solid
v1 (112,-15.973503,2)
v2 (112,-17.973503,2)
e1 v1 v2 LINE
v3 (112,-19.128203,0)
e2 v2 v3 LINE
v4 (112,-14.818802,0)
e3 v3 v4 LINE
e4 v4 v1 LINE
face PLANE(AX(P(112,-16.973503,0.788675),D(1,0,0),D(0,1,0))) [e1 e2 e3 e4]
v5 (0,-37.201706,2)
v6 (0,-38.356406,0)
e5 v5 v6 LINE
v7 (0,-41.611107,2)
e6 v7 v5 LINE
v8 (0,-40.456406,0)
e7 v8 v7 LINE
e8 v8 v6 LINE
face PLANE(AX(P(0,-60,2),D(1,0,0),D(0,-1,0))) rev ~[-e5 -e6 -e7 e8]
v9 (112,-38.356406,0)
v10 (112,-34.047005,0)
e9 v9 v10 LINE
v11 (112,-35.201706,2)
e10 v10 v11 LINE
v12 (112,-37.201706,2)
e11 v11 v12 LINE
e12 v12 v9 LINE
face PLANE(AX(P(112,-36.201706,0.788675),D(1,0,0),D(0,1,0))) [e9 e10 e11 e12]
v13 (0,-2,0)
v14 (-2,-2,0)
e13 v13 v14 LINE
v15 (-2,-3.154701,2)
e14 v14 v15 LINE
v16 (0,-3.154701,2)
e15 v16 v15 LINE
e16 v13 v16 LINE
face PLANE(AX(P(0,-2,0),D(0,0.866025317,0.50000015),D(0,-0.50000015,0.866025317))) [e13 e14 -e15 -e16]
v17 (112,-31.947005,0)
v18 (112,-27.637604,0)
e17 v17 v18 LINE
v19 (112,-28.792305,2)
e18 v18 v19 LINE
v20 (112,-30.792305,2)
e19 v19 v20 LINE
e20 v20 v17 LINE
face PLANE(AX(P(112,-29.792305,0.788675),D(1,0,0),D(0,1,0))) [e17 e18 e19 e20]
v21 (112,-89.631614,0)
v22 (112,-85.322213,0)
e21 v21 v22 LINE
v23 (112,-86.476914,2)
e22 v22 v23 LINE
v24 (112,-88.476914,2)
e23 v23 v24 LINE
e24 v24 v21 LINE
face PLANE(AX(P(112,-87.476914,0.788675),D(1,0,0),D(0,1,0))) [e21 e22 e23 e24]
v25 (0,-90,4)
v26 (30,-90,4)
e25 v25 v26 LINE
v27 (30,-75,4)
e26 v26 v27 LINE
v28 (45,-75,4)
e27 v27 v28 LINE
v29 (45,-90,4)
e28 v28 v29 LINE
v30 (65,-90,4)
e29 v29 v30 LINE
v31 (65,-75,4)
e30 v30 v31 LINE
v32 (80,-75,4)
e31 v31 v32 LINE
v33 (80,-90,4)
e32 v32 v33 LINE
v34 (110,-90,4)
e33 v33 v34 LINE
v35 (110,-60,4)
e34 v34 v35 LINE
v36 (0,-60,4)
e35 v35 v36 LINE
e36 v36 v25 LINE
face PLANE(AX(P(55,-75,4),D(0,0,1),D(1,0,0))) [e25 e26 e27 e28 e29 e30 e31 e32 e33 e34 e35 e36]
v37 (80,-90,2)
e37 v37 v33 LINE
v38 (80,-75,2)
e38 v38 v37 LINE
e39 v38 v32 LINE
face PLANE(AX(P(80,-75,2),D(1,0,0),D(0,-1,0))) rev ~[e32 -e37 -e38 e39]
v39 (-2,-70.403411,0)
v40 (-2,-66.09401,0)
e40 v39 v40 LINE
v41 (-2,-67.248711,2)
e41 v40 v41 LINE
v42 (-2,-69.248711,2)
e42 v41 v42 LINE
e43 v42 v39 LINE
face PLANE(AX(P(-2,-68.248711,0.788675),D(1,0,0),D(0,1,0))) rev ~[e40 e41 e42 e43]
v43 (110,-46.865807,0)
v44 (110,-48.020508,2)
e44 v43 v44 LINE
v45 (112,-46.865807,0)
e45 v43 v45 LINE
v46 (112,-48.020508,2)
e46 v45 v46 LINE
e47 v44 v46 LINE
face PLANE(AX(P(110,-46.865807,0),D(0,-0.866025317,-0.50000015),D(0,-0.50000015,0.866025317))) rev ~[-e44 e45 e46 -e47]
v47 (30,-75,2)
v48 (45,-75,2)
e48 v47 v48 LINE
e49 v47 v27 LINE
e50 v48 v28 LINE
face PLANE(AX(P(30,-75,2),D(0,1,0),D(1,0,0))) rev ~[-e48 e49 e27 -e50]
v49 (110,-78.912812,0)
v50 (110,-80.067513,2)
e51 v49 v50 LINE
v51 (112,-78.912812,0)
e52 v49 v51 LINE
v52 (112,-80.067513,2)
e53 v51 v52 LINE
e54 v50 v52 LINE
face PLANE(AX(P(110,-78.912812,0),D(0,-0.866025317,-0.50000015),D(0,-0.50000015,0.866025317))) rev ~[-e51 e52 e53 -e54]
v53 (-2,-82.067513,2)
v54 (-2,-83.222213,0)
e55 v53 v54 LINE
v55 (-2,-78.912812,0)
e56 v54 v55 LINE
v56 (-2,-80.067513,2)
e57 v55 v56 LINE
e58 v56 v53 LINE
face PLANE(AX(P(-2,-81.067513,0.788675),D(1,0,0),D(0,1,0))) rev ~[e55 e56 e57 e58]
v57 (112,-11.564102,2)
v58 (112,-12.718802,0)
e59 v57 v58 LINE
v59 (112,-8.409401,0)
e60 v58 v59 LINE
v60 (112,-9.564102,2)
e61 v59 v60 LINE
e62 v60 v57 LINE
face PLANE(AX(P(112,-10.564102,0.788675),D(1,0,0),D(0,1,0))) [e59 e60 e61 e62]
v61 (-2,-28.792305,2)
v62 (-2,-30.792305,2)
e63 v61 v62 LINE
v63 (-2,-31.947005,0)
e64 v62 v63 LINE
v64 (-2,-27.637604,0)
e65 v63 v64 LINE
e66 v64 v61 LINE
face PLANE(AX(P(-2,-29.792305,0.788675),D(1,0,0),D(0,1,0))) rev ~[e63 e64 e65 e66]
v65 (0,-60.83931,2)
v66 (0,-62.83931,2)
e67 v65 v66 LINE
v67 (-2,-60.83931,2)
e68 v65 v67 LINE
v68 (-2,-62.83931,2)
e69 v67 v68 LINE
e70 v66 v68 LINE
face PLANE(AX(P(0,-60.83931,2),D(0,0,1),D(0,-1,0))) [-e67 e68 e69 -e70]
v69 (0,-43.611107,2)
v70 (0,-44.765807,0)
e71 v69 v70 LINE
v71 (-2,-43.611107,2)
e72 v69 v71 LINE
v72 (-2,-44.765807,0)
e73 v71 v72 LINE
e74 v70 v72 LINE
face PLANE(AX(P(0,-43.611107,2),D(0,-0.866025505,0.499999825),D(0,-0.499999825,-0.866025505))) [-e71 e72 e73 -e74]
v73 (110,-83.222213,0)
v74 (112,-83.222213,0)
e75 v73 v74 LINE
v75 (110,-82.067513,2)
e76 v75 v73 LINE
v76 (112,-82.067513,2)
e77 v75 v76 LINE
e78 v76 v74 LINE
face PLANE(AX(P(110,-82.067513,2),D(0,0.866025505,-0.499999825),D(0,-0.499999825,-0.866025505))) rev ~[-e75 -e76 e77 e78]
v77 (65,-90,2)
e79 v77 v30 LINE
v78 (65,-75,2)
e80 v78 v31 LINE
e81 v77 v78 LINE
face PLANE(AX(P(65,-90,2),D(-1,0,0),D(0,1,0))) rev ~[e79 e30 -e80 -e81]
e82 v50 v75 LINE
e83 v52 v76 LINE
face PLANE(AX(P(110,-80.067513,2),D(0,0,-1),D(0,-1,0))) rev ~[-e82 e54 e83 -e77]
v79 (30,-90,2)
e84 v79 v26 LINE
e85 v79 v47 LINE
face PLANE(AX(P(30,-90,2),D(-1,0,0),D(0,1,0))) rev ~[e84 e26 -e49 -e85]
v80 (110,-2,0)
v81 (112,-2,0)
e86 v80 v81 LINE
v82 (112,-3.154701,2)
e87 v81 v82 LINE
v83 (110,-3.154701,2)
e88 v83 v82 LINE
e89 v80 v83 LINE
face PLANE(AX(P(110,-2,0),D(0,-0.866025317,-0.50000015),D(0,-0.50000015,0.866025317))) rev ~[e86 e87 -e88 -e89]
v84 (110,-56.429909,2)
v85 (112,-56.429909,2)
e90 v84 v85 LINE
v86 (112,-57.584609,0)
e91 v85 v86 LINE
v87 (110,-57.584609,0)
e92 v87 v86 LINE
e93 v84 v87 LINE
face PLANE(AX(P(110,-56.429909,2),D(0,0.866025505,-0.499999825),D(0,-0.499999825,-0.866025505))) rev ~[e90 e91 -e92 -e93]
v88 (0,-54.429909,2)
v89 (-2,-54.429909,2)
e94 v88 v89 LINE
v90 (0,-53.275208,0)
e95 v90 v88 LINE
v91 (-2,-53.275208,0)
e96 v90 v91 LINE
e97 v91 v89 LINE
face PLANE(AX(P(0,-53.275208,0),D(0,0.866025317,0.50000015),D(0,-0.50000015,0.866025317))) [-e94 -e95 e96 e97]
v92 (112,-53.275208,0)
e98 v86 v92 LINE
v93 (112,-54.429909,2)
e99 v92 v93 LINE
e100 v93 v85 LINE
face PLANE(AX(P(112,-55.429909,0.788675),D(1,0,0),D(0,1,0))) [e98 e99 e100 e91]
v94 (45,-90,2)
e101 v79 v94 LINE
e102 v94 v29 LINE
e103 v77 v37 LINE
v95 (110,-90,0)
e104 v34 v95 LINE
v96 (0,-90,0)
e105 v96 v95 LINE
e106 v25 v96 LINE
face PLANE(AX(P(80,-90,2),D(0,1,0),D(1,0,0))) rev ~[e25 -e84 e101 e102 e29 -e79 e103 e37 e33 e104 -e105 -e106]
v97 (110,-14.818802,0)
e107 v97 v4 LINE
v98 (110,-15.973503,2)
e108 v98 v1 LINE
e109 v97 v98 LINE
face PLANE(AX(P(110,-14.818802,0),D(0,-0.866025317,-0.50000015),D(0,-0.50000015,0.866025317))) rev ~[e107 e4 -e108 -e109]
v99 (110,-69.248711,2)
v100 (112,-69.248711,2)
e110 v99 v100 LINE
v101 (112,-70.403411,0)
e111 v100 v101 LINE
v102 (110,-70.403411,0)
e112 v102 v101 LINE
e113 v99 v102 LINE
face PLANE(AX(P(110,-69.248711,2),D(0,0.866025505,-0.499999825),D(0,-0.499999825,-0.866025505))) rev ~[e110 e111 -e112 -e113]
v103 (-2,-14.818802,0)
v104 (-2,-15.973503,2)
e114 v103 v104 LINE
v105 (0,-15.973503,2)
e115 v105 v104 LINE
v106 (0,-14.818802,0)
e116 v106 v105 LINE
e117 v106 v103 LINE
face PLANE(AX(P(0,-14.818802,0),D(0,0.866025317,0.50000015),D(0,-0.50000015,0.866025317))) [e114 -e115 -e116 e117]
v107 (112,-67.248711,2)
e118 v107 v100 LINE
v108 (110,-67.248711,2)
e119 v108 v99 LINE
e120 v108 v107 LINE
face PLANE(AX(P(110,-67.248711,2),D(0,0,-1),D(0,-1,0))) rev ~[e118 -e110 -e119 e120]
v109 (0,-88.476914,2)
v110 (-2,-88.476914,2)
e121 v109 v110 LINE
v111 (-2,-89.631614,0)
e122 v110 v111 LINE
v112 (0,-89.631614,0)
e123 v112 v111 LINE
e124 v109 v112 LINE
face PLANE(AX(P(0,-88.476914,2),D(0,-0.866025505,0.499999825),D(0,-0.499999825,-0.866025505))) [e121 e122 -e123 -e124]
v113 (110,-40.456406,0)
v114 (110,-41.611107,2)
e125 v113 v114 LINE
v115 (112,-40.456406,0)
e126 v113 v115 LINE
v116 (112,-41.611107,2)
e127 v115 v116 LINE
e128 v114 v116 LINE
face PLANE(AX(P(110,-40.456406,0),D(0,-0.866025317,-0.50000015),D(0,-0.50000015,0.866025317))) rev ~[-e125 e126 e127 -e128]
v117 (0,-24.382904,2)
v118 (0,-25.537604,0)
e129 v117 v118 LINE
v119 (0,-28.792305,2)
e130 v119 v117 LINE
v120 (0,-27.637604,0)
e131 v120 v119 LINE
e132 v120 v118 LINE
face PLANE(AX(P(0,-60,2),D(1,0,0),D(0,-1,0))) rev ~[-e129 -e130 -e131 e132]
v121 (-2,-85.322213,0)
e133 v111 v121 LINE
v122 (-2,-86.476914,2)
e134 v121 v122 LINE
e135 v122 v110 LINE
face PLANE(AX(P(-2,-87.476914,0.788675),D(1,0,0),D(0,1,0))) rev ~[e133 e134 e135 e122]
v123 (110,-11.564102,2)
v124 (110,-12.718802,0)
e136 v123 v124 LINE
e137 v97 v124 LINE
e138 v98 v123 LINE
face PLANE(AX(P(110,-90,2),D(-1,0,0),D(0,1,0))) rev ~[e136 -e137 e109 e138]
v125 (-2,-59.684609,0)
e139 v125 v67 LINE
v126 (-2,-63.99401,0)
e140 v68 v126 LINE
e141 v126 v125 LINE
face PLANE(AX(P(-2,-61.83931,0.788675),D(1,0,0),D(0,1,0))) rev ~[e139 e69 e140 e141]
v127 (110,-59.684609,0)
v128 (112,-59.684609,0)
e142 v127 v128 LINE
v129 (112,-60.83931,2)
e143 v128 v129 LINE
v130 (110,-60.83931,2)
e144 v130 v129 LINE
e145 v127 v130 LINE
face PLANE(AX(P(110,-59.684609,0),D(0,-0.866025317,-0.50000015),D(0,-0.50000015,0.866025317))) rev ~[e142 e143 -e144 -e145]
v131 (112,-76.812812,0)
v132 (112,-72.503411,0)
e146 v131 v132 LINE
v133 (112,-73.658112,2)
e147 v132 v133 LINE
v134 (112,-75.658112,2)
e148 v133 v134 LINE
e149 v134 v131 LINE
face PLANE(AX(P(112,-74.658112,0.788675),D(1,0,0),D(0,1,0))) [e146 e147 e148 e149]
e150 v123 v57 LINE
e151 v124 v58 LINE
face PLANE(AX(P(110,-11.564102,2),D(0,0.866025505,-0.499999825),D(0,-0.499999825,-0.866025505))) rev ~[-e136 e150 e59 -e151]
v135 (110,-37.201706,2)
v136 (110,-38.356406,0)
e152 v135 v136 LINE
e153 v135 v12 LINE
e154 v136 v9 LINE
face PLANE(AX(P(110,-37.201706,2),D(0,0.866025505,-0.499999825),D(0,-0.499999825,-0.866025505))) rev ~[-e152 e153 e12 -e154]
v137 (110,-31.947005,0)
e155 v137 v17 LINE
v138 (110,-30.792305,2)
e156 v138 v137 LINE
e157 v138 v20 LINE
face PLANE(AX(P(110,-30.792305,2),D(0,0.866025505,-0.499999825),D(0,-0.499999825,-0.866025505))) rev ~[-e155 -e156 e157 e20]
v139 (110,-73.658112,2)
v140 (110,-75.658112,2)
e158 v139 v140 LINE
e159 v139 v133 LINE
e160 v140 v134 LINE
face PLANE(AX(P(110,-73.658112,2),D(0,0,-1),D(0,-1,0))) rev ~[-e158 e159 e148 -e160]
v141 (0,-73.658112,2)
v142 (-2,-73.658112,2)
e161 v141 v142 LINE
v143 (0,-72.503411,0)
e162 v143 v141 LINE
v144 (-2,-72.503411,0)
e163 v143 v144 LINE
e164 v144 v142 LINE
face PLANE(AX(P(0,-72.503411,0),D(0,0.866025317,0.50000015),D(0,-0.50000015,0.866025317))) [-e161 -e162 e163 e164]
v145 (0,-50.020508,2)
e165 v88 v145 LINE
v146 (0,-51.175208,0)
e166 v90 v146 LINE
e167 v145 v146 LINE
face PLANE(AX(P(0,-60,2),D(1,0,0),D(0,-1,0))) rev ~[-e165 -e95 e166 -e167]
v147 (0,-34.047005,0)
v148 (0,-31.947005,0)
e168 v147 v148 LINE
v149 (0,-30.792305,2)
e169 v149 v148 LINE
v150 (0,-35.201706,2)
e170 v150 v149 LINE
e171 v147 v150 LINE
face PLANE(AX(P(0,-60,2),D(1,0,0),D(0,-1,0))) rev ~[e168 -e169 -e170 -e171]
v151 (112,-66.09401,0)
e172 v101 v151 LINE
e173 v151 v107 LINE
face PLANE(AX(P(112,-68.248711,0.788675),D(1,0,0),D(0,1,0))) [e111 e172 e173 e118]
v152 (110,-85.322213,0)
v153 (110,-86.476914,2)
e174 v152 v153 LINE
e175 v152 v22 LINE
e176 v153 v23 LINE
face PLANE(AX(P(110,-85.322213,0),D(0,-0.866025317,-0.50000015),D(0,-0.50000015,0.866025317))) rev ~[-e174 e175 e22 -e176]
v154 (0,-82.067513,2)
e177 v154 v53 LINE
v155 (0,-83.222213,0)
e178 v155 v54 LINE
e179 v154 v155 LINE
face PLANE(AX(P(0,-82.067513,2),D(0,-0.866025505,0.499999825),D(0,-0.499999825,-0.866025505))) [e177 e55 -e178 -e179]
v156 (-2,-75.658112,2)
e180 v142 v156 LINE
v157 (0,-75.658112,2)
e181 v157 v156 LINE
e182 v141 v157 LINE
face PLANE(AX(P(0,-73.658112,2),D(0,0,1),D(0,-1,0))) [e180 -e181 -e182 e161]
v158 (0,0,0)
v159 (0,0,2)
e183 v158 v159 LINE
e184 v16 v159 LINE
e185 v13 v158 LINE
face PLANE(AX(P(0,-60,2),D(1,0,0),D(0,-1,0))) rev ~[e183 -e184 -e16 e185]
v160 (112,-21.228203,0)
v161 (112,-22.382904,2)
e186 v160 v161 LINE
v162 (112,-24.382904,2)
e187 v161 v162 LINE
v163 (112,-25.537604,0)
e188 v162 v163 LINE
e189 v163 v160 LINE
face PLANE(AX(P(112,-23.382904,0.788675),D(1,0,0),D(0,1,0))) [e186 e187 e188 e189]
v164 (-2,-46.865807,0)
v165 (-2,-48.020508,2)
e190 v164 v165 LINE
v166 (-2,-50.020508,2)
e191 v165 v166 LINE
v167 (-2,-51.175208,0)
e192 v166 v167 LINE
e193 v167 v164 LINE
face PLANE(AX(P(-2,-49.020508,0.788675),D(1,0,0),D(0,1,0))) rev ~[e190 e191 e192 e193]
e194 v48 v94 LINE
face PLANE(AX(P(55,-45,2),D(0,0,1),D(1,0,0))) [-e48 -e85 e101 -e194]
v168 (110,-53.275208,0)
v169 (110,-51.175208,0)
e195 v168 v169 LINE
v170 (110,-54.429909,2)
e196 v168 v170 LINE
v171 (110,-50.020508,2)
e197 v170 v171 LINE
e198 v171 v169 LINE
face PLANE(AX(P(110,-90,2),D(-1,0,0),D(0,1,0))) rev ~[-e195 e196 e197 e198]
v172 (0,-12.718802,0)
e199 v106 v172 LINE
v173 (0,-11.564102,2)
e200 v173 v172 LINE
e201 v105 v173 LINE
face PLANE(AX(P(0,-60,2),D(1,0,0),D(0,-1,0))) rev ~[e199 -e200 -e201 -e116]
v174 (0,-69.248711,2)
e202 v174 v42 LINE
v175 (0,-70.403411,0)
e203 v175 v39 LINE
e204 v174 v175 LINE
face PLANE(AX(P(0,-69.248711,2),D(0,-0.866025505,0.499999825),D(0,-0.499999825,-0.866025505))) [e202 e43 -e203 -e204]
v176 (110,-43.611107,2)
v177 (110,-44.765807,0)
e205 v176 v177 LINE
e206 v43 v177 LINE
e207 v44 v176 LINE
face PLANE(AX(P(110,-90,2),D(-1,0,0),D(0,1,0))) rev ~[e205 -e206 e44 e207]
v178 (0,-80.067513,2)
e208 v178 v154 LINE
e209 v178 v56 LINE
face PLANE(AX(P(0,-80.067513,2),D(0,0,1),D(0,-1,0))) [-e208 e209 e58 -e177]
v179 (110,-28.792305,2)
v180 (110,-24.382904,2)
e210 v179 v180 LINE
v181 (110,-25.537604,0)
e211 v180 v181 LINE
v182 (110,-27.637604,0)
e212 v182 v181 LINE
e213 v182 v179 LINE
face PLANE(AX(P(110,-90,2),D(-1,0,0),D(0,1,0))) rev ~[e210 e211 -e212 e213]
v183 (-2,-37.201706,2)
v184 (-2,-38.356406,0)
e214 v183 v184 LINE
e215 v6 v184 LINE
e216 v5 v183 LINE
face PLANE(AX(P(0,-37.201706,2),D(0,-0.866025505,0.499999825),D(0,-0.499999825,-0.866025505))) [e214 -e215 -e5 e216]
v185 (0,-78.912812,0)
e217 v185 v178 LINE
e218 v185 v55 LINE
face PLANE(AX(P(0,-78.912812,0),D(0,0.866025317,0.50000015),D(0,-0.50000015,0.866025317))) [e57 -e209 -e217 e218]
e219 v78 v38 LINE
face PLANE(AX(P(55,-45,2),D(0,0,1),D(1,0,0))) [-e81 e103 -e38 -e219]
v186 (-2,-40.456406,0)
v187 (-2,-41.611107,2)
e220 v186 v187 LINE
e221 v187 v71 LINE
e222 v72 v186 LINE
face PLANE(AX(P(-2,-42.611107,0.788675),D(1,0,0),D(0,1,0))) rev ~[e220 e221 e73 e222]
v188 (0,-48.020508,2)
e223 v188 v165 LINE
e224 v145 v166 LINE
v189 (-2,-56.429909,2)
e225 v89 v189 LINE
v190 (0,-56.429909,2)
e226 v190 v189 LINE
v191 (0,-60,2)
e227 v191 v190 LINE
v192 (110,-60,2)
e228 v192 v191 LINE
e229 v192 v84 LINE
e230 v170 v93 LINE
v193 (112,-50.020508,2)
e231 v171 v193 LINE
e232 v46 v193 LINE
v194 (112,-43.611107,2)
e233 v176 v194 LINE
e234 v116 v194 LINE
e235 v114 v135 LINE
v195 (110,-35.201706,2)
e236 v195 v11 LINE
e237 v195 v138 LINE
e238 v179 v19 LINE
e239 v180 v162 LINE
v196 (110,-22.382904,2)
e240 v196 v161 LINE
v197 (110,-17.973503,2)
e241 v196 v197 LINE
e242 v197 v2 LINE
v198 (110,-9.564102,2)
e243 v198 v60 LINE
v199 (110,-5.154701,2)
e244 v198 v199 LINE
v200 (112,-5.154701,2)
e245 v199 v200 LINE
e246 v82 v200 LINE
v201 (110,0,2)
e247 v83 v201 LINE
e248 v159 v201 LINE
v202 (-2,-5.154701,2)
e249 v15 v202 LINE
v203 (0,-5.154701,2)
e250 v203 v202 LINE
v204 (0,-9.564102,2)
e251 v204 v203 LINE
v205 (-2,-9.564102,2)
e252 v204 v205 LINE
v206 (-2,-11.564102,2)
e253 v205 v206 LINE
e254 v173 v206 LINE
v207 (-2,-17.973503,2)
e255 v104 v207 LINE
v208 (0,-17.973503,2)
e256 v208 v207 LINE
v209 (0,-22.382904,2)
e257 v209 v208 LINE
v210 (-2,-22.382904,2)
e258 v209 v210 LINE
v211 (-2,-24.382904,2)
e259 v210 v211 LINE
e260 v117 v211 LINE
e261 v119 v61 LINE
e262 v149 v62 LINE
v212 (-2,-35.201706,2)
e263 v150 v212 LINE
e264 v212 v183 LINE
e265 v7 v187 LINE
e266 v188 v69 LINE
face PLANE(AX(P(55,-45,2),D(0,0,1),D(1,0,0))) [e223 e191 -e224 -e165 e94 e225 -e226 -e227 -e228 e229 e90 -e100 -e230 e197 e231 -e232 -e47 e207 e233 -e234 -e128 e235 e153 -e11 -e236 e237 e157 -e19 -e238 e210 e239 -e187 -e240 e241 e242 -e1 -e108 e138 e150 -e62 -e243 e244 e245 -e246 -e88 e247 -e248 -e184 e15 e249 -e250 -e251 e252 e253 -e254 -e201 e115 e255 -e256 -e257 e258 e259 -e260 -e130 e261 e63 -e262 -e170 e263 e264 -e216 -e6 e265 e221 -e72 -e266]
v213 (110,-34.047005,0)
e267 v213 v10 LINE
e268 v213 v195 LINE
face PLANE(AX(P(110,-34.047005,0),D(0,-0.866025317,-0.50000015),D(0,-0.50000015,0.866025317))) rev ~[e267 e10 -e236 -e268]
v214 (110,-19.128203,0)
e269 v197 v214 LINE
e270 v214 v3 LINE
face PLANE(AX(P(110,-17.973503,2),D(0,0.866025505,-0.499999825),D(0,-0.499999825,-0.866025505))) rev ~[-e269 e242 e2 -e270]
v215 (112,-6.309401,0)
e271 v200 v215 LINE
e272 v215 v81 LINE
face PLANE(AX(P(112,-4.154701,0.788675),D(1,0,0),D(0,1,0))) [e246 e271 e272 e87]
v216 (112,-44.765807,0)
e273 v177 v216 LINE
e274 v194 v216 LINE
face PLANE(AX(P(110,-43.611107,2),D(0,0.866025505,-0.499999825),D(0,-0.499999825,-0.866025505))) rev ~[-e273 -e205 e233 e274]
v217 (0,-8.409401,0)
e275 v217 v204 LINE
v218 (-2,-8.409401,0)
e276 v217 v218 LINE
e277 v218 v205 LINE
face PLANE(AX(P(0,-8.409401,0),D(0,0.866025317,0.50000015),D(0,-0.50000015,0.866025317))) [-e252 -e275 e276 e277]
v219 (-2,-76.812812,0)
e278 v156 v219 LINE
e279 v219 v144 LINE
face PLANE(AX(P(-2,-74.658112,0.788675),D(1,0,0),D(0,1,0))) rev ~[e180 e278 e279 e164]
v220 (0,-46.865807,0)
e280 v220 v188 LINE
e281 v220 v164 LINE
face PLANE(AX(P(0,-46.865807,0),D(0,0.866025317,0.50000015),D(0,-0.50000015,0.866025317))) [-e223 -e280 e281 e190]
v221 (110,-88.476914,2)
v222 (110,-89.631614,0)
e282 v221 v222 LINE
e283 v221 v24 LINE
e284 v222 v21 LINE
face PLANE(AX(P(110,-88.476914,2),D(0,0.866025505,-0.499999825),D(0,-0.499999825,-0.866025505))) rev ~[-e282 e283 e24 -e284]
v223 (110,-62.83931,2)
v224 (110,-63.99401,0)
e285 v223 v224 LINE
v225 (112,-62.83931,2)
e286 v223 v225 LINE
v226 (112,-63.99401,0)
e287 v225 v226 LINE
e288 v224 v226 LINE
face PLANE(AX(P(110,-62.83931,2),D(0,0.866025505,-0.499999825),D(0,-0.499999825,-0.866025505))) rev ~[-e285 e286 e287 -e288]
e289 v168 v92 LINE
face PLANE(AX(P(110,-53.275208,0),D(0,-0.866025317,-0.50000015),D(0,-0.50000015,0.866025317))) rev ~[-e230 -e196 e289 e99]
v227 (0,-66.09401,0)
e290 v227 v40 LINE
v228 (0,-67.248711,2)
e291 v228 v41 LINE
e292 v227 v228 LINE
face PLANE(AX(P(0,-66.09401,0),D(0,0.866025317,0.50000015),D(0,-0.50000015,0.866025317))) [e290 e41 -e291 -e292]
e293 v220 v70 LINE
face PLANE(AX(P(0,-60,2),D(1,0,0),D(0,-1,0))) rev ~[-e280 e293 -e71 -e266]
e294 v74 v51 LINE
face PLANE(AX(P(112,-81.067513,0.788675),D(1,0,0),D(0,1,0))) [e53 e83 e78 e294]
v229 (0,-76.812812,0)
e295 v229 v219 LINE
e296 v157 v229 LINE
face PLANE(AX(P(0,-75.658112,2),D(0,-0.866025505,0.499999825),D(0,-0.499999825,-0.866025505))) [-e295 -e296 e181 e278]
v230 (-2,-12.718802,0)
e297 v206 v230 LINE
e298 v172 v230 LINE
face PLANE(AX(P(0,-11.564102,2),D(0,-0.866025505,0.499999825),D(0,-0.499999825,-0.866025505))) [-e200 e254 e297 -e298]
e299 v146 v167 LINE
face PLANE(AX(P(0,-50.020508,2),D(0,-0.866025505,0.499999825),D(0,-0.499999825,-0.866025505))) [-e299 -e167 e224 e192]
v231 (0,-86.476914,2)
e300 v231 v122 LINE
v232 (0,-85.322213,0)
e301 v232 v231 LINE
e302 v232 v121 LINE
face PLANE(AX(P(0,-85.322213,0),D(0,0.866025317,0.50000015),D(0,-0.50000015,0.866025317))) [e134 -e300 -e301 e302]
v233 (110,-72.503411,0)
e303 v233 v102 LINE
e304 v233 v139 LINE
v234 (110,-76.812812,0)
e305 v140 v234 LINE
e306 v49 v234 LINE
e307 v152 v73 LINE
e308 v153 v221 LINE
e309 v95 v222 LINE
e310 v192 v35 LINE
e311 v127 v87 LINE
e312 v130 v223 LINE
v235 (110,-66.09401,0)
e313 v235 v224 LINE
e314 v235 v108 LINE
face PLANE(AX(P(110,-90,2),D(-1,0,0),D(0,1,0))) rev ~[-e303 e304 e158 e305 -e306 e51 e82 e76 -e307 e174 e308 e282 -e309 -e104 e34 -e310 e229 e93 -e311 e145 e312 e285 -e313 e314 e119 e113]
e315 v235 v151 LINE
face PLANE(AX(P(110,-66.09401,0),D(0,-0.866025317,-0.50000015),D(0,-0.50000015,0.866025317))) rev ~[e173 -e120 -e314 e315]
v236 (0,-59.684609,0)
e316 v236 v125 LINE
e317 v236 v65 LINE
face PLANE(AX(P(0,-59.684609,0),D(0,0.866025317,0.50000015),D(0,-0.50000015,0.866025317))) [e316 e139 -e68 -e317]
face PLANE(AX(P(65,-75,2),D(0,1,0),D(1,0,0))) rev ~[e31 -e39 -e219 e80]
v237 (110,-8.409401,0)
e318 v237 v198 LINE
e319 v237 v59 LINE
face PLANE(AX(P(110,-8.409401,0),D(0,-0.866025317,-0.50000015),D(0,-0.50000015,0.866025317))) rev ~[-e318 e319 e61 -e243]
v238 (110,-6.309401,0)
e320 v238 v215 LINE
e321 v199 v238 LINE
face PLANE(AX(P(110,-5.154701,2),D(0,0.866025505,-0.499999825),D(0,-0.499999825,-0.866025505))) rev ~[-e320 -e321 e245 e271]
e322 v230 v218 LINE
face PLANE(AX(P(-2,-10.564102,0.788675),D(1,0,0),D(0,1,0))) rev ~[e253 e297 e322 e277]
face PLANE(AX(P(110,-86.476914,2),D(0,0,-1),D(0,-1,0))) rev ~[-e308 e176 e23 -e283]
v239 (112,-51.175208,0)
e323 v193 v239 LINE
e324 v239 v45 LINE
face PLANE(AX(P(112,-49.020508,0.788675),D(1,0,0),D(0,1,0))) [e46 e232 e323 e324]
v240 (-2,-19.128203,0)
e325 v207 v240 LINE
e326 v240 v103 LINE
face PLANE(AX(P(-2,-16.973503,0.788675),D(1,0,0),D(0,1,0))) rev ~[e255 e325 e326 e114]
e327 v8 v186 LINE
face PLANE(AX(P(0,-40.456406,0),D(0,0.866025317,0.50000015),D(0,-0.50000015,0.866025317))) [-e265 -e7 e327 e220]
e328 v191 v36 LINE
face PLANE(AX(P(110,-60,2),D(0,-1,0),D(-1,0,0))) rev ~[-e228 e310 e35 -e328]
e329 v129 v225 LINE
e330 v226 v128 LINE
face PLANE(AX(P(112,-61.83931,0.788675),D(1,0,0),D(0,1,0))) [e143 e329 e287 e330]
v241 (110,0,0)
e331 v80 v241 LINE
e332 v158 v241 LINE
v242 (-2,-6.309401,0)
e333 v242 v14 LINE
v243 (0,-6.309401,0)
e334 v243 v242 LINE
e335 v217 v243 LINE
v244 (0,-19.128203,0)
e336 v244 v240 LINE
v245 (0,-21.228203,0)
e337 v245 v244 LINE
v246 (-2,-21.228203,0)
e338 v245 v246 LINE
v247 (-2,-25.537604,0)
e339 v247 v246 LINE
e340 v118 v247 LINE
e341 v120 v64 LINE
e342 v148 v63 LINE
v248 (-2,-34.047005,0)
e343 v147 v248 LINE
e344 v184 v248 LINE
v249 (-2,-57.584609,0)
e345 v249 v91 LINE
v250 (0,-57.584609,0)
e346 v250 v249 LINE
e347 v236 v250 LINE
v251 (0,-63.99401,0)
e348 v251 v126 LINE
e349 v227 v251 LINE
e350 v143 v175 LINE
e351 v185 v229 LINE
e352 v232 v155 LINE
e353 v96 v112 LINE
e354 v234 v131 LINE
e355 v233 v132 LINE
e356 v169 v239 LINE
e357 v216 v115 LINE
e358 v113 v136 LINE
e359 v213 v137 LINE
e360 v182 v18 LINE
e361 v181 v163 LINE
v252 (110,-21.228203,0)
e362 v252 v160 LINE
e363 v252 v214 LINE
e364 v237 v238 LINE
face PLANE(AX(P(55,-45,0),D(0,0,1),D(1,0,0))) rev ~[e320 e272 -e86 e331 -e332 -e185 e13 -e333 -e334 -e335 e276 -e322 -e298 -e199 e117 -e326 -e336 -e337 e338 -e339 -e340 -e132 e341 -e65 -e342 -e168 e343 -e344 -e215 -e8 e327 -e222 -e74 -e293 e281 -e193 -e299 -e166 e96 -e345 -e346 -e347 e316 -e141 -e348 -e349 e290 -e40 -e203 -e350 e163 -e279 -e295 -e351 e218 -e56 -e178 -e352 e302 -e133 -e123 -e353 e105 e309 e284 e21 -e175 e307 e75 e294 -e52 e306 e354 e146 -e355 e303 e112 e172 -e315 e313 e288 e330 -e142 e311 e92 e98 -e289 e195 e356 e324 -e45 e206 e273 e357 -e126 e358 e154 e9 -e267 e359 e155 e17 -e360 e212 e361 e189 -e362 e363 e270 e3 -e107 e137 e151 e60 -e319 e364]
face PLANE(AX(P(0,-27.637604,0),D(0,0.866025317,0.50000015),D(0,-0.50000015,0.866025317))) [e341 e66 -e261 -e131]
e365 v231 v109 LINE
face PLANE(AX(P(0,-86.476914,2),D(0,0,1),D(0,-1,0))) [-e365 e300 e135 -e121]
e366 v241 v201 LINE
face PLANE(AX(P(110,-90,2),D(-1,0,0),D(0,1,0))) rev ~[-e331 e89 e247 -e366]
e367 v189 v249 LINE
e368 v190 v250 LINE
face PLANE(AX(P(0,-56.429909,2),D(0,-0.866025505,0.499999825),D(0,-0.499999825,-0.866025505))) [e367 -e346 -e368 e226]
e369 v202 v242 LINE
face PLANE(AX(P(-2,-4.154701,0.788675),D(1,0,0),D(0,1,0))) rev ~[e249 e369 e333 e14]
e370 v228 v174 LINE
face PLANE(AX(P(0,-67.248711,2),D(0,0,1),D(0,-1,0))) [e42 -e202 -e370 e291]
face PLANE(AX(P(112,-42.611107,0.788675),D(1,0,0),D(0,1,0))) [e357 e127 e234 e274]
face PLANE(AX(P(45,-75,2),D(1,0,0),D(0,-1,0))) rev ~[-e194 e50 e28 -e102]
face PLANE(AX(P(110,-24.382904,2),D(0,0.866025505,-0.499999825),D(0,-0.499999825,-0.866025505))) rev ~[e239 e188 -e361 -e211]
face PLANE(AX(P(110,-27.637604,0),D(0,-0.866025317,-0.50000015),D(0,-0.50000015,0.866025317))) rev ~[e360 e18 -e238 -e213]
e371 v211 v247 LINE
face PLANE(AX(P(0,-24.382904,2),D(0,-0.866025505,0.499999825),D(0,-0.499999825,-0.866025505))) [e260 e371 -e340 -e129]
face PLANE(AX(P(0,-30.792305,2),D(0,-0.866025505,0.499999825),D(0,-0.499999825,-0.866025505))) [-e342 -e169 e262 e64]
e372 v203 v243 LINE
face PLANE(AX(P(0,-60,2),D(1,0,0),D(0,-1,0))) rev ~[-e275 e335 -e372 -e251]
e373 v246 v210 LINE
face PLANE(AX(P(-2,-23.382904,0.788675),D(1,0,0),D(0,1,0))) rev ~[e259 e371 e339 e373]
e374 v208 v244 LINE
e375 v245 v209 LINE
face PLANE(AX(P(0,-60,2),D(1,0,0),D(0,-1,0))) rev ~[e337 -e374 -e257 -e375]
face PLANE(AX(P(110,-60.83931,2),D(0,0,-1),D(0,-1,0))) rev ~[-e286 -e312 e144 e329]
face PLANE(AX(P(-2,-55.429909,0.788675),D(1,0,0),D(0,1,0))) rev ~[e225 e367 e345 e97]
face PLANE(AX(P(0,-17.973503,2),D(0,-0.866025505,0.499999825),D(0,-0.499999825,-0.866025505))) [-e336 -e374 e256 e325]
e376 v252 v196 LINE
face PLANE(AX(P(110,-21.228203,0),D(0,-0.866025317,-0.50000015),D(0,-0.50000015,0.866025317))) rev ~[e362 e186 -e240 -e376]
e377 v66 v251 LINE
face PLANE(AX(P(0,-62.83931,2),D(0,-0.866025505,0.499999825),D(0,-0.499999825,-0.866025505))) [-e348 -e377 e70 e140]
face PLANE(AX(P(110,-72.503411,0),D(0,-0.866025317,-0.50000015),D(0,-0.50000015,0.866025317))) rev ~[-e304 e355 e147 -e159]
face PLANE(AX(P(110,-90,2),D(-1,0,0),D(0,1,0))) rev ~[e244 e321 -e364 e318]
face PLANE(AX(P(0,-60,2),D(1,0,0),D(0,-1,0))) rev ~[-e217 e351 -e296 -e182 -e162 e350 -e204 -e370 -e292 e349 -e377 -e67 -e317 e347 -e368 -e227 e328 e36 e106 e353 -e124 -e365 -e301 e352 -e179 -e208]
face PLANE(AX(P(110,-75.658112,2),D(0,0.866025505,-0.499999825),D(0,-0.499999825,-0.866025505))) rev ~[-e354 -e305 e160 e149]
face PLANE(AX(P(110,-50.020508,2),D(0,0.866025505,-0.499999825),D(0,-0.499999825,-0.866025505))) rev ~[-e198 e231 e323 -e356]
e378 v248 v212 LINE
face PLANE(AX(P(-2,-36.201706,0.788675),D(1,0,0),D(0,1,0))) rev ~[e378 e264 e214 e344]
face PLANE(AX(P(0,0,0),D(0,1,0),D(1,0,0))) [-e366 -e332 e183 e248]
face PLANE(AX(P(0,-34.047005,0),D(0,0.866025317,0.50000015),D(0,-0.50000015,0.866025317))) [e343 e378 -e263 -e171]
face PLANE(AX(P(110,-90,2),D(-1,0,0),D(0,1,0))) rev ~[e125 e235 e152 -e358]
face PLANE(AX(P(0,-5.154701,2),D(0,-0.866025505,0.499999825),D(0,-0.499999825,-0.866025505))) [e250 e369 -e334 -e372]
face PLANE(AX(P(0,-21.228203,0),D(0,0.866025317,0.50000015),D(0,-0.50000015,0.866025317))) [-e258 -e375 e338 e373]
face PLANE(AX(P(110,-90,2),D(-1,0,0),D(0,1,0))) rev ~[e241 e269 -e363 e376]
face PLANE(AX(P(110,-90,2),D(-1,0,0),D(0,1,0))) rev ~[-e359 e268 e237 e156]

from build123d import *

# Parameters (mm, degrees)
SKETCH_W               = 110
SKETCH_H               = 90
PAD_DEPTH              = 2
PAD001_DEPTH           = 2
PAD002_DEPTH           = 2
LINEARPATTERN_COUNT    = 14
LINEARPATTERN_PITCH    = 6.409401
PAD003_DEPTH           = 2
LINEARPATTERN001_COUNT = 14
LINEARPATTERN001_PITCH = 6.409401


with BuildPart() as part:
    # Sketch → Pad (new body)
    with BuildSketch(Plane.XY):
        with Locations((55, -45)):
            Rectangle(SKETCH_W, SKETCH_H)
    extrude(amount=PAD_DEPTH)

    # Sketch001 (on Face6 of Pad) → Pad001 (join)
    with BuildSketch(Plane.XY.offset(2)):
        Polygon((110, -90), (110, -60), (0, -60), (0, -90), (30, -90), (30, -75), (45, -75), (45, -90), (65, -90), (65, -75), (80, -75), (80, -90), align=None)
    extrude(amount=PAD001_DEPTH)

    # Sketch002 (on Face2 of Pad001) → Pad002 (join)
    with BuildSketch(Plane(origin=(0, 0, 0), x_dir=(0, -1, 0), z_dir=(-1, 0, 0))):
        Polygon((2, 0), (3.154701, 2), (5.154701, 2), (6.309401, 0), align=None)
    pad002 = extrude(amount=PAD002_DEPTH)

    # LinearPattern: Pad002 ×14
    with Locations(*[(0, -i * LINEARPATTERN_PITCH, 0) for i in range(1, LINEARPATTERN_COUNT)]):
        add(pad002)

    # Sketch003 (on Face3 of LinearPattern) → Pad003 (join)
    with BuildSketch(Plane.YZ.offset(110)):
        Polygon((-2, 0), (-3.154701, 2), (-5.154701, 2), (-6.309401, 0), align=None)
    pad003 = extrude(amount=PAD003_DEPTH)

    # LinearPattern001: Pad003 ×14
    with Locations(*[(0, -i * LINEARPATTERN001_PITCH, 0) for i in range(1, LINEARPATTERN001_COUNT)]):
        add(pad003)


solid = part.part
